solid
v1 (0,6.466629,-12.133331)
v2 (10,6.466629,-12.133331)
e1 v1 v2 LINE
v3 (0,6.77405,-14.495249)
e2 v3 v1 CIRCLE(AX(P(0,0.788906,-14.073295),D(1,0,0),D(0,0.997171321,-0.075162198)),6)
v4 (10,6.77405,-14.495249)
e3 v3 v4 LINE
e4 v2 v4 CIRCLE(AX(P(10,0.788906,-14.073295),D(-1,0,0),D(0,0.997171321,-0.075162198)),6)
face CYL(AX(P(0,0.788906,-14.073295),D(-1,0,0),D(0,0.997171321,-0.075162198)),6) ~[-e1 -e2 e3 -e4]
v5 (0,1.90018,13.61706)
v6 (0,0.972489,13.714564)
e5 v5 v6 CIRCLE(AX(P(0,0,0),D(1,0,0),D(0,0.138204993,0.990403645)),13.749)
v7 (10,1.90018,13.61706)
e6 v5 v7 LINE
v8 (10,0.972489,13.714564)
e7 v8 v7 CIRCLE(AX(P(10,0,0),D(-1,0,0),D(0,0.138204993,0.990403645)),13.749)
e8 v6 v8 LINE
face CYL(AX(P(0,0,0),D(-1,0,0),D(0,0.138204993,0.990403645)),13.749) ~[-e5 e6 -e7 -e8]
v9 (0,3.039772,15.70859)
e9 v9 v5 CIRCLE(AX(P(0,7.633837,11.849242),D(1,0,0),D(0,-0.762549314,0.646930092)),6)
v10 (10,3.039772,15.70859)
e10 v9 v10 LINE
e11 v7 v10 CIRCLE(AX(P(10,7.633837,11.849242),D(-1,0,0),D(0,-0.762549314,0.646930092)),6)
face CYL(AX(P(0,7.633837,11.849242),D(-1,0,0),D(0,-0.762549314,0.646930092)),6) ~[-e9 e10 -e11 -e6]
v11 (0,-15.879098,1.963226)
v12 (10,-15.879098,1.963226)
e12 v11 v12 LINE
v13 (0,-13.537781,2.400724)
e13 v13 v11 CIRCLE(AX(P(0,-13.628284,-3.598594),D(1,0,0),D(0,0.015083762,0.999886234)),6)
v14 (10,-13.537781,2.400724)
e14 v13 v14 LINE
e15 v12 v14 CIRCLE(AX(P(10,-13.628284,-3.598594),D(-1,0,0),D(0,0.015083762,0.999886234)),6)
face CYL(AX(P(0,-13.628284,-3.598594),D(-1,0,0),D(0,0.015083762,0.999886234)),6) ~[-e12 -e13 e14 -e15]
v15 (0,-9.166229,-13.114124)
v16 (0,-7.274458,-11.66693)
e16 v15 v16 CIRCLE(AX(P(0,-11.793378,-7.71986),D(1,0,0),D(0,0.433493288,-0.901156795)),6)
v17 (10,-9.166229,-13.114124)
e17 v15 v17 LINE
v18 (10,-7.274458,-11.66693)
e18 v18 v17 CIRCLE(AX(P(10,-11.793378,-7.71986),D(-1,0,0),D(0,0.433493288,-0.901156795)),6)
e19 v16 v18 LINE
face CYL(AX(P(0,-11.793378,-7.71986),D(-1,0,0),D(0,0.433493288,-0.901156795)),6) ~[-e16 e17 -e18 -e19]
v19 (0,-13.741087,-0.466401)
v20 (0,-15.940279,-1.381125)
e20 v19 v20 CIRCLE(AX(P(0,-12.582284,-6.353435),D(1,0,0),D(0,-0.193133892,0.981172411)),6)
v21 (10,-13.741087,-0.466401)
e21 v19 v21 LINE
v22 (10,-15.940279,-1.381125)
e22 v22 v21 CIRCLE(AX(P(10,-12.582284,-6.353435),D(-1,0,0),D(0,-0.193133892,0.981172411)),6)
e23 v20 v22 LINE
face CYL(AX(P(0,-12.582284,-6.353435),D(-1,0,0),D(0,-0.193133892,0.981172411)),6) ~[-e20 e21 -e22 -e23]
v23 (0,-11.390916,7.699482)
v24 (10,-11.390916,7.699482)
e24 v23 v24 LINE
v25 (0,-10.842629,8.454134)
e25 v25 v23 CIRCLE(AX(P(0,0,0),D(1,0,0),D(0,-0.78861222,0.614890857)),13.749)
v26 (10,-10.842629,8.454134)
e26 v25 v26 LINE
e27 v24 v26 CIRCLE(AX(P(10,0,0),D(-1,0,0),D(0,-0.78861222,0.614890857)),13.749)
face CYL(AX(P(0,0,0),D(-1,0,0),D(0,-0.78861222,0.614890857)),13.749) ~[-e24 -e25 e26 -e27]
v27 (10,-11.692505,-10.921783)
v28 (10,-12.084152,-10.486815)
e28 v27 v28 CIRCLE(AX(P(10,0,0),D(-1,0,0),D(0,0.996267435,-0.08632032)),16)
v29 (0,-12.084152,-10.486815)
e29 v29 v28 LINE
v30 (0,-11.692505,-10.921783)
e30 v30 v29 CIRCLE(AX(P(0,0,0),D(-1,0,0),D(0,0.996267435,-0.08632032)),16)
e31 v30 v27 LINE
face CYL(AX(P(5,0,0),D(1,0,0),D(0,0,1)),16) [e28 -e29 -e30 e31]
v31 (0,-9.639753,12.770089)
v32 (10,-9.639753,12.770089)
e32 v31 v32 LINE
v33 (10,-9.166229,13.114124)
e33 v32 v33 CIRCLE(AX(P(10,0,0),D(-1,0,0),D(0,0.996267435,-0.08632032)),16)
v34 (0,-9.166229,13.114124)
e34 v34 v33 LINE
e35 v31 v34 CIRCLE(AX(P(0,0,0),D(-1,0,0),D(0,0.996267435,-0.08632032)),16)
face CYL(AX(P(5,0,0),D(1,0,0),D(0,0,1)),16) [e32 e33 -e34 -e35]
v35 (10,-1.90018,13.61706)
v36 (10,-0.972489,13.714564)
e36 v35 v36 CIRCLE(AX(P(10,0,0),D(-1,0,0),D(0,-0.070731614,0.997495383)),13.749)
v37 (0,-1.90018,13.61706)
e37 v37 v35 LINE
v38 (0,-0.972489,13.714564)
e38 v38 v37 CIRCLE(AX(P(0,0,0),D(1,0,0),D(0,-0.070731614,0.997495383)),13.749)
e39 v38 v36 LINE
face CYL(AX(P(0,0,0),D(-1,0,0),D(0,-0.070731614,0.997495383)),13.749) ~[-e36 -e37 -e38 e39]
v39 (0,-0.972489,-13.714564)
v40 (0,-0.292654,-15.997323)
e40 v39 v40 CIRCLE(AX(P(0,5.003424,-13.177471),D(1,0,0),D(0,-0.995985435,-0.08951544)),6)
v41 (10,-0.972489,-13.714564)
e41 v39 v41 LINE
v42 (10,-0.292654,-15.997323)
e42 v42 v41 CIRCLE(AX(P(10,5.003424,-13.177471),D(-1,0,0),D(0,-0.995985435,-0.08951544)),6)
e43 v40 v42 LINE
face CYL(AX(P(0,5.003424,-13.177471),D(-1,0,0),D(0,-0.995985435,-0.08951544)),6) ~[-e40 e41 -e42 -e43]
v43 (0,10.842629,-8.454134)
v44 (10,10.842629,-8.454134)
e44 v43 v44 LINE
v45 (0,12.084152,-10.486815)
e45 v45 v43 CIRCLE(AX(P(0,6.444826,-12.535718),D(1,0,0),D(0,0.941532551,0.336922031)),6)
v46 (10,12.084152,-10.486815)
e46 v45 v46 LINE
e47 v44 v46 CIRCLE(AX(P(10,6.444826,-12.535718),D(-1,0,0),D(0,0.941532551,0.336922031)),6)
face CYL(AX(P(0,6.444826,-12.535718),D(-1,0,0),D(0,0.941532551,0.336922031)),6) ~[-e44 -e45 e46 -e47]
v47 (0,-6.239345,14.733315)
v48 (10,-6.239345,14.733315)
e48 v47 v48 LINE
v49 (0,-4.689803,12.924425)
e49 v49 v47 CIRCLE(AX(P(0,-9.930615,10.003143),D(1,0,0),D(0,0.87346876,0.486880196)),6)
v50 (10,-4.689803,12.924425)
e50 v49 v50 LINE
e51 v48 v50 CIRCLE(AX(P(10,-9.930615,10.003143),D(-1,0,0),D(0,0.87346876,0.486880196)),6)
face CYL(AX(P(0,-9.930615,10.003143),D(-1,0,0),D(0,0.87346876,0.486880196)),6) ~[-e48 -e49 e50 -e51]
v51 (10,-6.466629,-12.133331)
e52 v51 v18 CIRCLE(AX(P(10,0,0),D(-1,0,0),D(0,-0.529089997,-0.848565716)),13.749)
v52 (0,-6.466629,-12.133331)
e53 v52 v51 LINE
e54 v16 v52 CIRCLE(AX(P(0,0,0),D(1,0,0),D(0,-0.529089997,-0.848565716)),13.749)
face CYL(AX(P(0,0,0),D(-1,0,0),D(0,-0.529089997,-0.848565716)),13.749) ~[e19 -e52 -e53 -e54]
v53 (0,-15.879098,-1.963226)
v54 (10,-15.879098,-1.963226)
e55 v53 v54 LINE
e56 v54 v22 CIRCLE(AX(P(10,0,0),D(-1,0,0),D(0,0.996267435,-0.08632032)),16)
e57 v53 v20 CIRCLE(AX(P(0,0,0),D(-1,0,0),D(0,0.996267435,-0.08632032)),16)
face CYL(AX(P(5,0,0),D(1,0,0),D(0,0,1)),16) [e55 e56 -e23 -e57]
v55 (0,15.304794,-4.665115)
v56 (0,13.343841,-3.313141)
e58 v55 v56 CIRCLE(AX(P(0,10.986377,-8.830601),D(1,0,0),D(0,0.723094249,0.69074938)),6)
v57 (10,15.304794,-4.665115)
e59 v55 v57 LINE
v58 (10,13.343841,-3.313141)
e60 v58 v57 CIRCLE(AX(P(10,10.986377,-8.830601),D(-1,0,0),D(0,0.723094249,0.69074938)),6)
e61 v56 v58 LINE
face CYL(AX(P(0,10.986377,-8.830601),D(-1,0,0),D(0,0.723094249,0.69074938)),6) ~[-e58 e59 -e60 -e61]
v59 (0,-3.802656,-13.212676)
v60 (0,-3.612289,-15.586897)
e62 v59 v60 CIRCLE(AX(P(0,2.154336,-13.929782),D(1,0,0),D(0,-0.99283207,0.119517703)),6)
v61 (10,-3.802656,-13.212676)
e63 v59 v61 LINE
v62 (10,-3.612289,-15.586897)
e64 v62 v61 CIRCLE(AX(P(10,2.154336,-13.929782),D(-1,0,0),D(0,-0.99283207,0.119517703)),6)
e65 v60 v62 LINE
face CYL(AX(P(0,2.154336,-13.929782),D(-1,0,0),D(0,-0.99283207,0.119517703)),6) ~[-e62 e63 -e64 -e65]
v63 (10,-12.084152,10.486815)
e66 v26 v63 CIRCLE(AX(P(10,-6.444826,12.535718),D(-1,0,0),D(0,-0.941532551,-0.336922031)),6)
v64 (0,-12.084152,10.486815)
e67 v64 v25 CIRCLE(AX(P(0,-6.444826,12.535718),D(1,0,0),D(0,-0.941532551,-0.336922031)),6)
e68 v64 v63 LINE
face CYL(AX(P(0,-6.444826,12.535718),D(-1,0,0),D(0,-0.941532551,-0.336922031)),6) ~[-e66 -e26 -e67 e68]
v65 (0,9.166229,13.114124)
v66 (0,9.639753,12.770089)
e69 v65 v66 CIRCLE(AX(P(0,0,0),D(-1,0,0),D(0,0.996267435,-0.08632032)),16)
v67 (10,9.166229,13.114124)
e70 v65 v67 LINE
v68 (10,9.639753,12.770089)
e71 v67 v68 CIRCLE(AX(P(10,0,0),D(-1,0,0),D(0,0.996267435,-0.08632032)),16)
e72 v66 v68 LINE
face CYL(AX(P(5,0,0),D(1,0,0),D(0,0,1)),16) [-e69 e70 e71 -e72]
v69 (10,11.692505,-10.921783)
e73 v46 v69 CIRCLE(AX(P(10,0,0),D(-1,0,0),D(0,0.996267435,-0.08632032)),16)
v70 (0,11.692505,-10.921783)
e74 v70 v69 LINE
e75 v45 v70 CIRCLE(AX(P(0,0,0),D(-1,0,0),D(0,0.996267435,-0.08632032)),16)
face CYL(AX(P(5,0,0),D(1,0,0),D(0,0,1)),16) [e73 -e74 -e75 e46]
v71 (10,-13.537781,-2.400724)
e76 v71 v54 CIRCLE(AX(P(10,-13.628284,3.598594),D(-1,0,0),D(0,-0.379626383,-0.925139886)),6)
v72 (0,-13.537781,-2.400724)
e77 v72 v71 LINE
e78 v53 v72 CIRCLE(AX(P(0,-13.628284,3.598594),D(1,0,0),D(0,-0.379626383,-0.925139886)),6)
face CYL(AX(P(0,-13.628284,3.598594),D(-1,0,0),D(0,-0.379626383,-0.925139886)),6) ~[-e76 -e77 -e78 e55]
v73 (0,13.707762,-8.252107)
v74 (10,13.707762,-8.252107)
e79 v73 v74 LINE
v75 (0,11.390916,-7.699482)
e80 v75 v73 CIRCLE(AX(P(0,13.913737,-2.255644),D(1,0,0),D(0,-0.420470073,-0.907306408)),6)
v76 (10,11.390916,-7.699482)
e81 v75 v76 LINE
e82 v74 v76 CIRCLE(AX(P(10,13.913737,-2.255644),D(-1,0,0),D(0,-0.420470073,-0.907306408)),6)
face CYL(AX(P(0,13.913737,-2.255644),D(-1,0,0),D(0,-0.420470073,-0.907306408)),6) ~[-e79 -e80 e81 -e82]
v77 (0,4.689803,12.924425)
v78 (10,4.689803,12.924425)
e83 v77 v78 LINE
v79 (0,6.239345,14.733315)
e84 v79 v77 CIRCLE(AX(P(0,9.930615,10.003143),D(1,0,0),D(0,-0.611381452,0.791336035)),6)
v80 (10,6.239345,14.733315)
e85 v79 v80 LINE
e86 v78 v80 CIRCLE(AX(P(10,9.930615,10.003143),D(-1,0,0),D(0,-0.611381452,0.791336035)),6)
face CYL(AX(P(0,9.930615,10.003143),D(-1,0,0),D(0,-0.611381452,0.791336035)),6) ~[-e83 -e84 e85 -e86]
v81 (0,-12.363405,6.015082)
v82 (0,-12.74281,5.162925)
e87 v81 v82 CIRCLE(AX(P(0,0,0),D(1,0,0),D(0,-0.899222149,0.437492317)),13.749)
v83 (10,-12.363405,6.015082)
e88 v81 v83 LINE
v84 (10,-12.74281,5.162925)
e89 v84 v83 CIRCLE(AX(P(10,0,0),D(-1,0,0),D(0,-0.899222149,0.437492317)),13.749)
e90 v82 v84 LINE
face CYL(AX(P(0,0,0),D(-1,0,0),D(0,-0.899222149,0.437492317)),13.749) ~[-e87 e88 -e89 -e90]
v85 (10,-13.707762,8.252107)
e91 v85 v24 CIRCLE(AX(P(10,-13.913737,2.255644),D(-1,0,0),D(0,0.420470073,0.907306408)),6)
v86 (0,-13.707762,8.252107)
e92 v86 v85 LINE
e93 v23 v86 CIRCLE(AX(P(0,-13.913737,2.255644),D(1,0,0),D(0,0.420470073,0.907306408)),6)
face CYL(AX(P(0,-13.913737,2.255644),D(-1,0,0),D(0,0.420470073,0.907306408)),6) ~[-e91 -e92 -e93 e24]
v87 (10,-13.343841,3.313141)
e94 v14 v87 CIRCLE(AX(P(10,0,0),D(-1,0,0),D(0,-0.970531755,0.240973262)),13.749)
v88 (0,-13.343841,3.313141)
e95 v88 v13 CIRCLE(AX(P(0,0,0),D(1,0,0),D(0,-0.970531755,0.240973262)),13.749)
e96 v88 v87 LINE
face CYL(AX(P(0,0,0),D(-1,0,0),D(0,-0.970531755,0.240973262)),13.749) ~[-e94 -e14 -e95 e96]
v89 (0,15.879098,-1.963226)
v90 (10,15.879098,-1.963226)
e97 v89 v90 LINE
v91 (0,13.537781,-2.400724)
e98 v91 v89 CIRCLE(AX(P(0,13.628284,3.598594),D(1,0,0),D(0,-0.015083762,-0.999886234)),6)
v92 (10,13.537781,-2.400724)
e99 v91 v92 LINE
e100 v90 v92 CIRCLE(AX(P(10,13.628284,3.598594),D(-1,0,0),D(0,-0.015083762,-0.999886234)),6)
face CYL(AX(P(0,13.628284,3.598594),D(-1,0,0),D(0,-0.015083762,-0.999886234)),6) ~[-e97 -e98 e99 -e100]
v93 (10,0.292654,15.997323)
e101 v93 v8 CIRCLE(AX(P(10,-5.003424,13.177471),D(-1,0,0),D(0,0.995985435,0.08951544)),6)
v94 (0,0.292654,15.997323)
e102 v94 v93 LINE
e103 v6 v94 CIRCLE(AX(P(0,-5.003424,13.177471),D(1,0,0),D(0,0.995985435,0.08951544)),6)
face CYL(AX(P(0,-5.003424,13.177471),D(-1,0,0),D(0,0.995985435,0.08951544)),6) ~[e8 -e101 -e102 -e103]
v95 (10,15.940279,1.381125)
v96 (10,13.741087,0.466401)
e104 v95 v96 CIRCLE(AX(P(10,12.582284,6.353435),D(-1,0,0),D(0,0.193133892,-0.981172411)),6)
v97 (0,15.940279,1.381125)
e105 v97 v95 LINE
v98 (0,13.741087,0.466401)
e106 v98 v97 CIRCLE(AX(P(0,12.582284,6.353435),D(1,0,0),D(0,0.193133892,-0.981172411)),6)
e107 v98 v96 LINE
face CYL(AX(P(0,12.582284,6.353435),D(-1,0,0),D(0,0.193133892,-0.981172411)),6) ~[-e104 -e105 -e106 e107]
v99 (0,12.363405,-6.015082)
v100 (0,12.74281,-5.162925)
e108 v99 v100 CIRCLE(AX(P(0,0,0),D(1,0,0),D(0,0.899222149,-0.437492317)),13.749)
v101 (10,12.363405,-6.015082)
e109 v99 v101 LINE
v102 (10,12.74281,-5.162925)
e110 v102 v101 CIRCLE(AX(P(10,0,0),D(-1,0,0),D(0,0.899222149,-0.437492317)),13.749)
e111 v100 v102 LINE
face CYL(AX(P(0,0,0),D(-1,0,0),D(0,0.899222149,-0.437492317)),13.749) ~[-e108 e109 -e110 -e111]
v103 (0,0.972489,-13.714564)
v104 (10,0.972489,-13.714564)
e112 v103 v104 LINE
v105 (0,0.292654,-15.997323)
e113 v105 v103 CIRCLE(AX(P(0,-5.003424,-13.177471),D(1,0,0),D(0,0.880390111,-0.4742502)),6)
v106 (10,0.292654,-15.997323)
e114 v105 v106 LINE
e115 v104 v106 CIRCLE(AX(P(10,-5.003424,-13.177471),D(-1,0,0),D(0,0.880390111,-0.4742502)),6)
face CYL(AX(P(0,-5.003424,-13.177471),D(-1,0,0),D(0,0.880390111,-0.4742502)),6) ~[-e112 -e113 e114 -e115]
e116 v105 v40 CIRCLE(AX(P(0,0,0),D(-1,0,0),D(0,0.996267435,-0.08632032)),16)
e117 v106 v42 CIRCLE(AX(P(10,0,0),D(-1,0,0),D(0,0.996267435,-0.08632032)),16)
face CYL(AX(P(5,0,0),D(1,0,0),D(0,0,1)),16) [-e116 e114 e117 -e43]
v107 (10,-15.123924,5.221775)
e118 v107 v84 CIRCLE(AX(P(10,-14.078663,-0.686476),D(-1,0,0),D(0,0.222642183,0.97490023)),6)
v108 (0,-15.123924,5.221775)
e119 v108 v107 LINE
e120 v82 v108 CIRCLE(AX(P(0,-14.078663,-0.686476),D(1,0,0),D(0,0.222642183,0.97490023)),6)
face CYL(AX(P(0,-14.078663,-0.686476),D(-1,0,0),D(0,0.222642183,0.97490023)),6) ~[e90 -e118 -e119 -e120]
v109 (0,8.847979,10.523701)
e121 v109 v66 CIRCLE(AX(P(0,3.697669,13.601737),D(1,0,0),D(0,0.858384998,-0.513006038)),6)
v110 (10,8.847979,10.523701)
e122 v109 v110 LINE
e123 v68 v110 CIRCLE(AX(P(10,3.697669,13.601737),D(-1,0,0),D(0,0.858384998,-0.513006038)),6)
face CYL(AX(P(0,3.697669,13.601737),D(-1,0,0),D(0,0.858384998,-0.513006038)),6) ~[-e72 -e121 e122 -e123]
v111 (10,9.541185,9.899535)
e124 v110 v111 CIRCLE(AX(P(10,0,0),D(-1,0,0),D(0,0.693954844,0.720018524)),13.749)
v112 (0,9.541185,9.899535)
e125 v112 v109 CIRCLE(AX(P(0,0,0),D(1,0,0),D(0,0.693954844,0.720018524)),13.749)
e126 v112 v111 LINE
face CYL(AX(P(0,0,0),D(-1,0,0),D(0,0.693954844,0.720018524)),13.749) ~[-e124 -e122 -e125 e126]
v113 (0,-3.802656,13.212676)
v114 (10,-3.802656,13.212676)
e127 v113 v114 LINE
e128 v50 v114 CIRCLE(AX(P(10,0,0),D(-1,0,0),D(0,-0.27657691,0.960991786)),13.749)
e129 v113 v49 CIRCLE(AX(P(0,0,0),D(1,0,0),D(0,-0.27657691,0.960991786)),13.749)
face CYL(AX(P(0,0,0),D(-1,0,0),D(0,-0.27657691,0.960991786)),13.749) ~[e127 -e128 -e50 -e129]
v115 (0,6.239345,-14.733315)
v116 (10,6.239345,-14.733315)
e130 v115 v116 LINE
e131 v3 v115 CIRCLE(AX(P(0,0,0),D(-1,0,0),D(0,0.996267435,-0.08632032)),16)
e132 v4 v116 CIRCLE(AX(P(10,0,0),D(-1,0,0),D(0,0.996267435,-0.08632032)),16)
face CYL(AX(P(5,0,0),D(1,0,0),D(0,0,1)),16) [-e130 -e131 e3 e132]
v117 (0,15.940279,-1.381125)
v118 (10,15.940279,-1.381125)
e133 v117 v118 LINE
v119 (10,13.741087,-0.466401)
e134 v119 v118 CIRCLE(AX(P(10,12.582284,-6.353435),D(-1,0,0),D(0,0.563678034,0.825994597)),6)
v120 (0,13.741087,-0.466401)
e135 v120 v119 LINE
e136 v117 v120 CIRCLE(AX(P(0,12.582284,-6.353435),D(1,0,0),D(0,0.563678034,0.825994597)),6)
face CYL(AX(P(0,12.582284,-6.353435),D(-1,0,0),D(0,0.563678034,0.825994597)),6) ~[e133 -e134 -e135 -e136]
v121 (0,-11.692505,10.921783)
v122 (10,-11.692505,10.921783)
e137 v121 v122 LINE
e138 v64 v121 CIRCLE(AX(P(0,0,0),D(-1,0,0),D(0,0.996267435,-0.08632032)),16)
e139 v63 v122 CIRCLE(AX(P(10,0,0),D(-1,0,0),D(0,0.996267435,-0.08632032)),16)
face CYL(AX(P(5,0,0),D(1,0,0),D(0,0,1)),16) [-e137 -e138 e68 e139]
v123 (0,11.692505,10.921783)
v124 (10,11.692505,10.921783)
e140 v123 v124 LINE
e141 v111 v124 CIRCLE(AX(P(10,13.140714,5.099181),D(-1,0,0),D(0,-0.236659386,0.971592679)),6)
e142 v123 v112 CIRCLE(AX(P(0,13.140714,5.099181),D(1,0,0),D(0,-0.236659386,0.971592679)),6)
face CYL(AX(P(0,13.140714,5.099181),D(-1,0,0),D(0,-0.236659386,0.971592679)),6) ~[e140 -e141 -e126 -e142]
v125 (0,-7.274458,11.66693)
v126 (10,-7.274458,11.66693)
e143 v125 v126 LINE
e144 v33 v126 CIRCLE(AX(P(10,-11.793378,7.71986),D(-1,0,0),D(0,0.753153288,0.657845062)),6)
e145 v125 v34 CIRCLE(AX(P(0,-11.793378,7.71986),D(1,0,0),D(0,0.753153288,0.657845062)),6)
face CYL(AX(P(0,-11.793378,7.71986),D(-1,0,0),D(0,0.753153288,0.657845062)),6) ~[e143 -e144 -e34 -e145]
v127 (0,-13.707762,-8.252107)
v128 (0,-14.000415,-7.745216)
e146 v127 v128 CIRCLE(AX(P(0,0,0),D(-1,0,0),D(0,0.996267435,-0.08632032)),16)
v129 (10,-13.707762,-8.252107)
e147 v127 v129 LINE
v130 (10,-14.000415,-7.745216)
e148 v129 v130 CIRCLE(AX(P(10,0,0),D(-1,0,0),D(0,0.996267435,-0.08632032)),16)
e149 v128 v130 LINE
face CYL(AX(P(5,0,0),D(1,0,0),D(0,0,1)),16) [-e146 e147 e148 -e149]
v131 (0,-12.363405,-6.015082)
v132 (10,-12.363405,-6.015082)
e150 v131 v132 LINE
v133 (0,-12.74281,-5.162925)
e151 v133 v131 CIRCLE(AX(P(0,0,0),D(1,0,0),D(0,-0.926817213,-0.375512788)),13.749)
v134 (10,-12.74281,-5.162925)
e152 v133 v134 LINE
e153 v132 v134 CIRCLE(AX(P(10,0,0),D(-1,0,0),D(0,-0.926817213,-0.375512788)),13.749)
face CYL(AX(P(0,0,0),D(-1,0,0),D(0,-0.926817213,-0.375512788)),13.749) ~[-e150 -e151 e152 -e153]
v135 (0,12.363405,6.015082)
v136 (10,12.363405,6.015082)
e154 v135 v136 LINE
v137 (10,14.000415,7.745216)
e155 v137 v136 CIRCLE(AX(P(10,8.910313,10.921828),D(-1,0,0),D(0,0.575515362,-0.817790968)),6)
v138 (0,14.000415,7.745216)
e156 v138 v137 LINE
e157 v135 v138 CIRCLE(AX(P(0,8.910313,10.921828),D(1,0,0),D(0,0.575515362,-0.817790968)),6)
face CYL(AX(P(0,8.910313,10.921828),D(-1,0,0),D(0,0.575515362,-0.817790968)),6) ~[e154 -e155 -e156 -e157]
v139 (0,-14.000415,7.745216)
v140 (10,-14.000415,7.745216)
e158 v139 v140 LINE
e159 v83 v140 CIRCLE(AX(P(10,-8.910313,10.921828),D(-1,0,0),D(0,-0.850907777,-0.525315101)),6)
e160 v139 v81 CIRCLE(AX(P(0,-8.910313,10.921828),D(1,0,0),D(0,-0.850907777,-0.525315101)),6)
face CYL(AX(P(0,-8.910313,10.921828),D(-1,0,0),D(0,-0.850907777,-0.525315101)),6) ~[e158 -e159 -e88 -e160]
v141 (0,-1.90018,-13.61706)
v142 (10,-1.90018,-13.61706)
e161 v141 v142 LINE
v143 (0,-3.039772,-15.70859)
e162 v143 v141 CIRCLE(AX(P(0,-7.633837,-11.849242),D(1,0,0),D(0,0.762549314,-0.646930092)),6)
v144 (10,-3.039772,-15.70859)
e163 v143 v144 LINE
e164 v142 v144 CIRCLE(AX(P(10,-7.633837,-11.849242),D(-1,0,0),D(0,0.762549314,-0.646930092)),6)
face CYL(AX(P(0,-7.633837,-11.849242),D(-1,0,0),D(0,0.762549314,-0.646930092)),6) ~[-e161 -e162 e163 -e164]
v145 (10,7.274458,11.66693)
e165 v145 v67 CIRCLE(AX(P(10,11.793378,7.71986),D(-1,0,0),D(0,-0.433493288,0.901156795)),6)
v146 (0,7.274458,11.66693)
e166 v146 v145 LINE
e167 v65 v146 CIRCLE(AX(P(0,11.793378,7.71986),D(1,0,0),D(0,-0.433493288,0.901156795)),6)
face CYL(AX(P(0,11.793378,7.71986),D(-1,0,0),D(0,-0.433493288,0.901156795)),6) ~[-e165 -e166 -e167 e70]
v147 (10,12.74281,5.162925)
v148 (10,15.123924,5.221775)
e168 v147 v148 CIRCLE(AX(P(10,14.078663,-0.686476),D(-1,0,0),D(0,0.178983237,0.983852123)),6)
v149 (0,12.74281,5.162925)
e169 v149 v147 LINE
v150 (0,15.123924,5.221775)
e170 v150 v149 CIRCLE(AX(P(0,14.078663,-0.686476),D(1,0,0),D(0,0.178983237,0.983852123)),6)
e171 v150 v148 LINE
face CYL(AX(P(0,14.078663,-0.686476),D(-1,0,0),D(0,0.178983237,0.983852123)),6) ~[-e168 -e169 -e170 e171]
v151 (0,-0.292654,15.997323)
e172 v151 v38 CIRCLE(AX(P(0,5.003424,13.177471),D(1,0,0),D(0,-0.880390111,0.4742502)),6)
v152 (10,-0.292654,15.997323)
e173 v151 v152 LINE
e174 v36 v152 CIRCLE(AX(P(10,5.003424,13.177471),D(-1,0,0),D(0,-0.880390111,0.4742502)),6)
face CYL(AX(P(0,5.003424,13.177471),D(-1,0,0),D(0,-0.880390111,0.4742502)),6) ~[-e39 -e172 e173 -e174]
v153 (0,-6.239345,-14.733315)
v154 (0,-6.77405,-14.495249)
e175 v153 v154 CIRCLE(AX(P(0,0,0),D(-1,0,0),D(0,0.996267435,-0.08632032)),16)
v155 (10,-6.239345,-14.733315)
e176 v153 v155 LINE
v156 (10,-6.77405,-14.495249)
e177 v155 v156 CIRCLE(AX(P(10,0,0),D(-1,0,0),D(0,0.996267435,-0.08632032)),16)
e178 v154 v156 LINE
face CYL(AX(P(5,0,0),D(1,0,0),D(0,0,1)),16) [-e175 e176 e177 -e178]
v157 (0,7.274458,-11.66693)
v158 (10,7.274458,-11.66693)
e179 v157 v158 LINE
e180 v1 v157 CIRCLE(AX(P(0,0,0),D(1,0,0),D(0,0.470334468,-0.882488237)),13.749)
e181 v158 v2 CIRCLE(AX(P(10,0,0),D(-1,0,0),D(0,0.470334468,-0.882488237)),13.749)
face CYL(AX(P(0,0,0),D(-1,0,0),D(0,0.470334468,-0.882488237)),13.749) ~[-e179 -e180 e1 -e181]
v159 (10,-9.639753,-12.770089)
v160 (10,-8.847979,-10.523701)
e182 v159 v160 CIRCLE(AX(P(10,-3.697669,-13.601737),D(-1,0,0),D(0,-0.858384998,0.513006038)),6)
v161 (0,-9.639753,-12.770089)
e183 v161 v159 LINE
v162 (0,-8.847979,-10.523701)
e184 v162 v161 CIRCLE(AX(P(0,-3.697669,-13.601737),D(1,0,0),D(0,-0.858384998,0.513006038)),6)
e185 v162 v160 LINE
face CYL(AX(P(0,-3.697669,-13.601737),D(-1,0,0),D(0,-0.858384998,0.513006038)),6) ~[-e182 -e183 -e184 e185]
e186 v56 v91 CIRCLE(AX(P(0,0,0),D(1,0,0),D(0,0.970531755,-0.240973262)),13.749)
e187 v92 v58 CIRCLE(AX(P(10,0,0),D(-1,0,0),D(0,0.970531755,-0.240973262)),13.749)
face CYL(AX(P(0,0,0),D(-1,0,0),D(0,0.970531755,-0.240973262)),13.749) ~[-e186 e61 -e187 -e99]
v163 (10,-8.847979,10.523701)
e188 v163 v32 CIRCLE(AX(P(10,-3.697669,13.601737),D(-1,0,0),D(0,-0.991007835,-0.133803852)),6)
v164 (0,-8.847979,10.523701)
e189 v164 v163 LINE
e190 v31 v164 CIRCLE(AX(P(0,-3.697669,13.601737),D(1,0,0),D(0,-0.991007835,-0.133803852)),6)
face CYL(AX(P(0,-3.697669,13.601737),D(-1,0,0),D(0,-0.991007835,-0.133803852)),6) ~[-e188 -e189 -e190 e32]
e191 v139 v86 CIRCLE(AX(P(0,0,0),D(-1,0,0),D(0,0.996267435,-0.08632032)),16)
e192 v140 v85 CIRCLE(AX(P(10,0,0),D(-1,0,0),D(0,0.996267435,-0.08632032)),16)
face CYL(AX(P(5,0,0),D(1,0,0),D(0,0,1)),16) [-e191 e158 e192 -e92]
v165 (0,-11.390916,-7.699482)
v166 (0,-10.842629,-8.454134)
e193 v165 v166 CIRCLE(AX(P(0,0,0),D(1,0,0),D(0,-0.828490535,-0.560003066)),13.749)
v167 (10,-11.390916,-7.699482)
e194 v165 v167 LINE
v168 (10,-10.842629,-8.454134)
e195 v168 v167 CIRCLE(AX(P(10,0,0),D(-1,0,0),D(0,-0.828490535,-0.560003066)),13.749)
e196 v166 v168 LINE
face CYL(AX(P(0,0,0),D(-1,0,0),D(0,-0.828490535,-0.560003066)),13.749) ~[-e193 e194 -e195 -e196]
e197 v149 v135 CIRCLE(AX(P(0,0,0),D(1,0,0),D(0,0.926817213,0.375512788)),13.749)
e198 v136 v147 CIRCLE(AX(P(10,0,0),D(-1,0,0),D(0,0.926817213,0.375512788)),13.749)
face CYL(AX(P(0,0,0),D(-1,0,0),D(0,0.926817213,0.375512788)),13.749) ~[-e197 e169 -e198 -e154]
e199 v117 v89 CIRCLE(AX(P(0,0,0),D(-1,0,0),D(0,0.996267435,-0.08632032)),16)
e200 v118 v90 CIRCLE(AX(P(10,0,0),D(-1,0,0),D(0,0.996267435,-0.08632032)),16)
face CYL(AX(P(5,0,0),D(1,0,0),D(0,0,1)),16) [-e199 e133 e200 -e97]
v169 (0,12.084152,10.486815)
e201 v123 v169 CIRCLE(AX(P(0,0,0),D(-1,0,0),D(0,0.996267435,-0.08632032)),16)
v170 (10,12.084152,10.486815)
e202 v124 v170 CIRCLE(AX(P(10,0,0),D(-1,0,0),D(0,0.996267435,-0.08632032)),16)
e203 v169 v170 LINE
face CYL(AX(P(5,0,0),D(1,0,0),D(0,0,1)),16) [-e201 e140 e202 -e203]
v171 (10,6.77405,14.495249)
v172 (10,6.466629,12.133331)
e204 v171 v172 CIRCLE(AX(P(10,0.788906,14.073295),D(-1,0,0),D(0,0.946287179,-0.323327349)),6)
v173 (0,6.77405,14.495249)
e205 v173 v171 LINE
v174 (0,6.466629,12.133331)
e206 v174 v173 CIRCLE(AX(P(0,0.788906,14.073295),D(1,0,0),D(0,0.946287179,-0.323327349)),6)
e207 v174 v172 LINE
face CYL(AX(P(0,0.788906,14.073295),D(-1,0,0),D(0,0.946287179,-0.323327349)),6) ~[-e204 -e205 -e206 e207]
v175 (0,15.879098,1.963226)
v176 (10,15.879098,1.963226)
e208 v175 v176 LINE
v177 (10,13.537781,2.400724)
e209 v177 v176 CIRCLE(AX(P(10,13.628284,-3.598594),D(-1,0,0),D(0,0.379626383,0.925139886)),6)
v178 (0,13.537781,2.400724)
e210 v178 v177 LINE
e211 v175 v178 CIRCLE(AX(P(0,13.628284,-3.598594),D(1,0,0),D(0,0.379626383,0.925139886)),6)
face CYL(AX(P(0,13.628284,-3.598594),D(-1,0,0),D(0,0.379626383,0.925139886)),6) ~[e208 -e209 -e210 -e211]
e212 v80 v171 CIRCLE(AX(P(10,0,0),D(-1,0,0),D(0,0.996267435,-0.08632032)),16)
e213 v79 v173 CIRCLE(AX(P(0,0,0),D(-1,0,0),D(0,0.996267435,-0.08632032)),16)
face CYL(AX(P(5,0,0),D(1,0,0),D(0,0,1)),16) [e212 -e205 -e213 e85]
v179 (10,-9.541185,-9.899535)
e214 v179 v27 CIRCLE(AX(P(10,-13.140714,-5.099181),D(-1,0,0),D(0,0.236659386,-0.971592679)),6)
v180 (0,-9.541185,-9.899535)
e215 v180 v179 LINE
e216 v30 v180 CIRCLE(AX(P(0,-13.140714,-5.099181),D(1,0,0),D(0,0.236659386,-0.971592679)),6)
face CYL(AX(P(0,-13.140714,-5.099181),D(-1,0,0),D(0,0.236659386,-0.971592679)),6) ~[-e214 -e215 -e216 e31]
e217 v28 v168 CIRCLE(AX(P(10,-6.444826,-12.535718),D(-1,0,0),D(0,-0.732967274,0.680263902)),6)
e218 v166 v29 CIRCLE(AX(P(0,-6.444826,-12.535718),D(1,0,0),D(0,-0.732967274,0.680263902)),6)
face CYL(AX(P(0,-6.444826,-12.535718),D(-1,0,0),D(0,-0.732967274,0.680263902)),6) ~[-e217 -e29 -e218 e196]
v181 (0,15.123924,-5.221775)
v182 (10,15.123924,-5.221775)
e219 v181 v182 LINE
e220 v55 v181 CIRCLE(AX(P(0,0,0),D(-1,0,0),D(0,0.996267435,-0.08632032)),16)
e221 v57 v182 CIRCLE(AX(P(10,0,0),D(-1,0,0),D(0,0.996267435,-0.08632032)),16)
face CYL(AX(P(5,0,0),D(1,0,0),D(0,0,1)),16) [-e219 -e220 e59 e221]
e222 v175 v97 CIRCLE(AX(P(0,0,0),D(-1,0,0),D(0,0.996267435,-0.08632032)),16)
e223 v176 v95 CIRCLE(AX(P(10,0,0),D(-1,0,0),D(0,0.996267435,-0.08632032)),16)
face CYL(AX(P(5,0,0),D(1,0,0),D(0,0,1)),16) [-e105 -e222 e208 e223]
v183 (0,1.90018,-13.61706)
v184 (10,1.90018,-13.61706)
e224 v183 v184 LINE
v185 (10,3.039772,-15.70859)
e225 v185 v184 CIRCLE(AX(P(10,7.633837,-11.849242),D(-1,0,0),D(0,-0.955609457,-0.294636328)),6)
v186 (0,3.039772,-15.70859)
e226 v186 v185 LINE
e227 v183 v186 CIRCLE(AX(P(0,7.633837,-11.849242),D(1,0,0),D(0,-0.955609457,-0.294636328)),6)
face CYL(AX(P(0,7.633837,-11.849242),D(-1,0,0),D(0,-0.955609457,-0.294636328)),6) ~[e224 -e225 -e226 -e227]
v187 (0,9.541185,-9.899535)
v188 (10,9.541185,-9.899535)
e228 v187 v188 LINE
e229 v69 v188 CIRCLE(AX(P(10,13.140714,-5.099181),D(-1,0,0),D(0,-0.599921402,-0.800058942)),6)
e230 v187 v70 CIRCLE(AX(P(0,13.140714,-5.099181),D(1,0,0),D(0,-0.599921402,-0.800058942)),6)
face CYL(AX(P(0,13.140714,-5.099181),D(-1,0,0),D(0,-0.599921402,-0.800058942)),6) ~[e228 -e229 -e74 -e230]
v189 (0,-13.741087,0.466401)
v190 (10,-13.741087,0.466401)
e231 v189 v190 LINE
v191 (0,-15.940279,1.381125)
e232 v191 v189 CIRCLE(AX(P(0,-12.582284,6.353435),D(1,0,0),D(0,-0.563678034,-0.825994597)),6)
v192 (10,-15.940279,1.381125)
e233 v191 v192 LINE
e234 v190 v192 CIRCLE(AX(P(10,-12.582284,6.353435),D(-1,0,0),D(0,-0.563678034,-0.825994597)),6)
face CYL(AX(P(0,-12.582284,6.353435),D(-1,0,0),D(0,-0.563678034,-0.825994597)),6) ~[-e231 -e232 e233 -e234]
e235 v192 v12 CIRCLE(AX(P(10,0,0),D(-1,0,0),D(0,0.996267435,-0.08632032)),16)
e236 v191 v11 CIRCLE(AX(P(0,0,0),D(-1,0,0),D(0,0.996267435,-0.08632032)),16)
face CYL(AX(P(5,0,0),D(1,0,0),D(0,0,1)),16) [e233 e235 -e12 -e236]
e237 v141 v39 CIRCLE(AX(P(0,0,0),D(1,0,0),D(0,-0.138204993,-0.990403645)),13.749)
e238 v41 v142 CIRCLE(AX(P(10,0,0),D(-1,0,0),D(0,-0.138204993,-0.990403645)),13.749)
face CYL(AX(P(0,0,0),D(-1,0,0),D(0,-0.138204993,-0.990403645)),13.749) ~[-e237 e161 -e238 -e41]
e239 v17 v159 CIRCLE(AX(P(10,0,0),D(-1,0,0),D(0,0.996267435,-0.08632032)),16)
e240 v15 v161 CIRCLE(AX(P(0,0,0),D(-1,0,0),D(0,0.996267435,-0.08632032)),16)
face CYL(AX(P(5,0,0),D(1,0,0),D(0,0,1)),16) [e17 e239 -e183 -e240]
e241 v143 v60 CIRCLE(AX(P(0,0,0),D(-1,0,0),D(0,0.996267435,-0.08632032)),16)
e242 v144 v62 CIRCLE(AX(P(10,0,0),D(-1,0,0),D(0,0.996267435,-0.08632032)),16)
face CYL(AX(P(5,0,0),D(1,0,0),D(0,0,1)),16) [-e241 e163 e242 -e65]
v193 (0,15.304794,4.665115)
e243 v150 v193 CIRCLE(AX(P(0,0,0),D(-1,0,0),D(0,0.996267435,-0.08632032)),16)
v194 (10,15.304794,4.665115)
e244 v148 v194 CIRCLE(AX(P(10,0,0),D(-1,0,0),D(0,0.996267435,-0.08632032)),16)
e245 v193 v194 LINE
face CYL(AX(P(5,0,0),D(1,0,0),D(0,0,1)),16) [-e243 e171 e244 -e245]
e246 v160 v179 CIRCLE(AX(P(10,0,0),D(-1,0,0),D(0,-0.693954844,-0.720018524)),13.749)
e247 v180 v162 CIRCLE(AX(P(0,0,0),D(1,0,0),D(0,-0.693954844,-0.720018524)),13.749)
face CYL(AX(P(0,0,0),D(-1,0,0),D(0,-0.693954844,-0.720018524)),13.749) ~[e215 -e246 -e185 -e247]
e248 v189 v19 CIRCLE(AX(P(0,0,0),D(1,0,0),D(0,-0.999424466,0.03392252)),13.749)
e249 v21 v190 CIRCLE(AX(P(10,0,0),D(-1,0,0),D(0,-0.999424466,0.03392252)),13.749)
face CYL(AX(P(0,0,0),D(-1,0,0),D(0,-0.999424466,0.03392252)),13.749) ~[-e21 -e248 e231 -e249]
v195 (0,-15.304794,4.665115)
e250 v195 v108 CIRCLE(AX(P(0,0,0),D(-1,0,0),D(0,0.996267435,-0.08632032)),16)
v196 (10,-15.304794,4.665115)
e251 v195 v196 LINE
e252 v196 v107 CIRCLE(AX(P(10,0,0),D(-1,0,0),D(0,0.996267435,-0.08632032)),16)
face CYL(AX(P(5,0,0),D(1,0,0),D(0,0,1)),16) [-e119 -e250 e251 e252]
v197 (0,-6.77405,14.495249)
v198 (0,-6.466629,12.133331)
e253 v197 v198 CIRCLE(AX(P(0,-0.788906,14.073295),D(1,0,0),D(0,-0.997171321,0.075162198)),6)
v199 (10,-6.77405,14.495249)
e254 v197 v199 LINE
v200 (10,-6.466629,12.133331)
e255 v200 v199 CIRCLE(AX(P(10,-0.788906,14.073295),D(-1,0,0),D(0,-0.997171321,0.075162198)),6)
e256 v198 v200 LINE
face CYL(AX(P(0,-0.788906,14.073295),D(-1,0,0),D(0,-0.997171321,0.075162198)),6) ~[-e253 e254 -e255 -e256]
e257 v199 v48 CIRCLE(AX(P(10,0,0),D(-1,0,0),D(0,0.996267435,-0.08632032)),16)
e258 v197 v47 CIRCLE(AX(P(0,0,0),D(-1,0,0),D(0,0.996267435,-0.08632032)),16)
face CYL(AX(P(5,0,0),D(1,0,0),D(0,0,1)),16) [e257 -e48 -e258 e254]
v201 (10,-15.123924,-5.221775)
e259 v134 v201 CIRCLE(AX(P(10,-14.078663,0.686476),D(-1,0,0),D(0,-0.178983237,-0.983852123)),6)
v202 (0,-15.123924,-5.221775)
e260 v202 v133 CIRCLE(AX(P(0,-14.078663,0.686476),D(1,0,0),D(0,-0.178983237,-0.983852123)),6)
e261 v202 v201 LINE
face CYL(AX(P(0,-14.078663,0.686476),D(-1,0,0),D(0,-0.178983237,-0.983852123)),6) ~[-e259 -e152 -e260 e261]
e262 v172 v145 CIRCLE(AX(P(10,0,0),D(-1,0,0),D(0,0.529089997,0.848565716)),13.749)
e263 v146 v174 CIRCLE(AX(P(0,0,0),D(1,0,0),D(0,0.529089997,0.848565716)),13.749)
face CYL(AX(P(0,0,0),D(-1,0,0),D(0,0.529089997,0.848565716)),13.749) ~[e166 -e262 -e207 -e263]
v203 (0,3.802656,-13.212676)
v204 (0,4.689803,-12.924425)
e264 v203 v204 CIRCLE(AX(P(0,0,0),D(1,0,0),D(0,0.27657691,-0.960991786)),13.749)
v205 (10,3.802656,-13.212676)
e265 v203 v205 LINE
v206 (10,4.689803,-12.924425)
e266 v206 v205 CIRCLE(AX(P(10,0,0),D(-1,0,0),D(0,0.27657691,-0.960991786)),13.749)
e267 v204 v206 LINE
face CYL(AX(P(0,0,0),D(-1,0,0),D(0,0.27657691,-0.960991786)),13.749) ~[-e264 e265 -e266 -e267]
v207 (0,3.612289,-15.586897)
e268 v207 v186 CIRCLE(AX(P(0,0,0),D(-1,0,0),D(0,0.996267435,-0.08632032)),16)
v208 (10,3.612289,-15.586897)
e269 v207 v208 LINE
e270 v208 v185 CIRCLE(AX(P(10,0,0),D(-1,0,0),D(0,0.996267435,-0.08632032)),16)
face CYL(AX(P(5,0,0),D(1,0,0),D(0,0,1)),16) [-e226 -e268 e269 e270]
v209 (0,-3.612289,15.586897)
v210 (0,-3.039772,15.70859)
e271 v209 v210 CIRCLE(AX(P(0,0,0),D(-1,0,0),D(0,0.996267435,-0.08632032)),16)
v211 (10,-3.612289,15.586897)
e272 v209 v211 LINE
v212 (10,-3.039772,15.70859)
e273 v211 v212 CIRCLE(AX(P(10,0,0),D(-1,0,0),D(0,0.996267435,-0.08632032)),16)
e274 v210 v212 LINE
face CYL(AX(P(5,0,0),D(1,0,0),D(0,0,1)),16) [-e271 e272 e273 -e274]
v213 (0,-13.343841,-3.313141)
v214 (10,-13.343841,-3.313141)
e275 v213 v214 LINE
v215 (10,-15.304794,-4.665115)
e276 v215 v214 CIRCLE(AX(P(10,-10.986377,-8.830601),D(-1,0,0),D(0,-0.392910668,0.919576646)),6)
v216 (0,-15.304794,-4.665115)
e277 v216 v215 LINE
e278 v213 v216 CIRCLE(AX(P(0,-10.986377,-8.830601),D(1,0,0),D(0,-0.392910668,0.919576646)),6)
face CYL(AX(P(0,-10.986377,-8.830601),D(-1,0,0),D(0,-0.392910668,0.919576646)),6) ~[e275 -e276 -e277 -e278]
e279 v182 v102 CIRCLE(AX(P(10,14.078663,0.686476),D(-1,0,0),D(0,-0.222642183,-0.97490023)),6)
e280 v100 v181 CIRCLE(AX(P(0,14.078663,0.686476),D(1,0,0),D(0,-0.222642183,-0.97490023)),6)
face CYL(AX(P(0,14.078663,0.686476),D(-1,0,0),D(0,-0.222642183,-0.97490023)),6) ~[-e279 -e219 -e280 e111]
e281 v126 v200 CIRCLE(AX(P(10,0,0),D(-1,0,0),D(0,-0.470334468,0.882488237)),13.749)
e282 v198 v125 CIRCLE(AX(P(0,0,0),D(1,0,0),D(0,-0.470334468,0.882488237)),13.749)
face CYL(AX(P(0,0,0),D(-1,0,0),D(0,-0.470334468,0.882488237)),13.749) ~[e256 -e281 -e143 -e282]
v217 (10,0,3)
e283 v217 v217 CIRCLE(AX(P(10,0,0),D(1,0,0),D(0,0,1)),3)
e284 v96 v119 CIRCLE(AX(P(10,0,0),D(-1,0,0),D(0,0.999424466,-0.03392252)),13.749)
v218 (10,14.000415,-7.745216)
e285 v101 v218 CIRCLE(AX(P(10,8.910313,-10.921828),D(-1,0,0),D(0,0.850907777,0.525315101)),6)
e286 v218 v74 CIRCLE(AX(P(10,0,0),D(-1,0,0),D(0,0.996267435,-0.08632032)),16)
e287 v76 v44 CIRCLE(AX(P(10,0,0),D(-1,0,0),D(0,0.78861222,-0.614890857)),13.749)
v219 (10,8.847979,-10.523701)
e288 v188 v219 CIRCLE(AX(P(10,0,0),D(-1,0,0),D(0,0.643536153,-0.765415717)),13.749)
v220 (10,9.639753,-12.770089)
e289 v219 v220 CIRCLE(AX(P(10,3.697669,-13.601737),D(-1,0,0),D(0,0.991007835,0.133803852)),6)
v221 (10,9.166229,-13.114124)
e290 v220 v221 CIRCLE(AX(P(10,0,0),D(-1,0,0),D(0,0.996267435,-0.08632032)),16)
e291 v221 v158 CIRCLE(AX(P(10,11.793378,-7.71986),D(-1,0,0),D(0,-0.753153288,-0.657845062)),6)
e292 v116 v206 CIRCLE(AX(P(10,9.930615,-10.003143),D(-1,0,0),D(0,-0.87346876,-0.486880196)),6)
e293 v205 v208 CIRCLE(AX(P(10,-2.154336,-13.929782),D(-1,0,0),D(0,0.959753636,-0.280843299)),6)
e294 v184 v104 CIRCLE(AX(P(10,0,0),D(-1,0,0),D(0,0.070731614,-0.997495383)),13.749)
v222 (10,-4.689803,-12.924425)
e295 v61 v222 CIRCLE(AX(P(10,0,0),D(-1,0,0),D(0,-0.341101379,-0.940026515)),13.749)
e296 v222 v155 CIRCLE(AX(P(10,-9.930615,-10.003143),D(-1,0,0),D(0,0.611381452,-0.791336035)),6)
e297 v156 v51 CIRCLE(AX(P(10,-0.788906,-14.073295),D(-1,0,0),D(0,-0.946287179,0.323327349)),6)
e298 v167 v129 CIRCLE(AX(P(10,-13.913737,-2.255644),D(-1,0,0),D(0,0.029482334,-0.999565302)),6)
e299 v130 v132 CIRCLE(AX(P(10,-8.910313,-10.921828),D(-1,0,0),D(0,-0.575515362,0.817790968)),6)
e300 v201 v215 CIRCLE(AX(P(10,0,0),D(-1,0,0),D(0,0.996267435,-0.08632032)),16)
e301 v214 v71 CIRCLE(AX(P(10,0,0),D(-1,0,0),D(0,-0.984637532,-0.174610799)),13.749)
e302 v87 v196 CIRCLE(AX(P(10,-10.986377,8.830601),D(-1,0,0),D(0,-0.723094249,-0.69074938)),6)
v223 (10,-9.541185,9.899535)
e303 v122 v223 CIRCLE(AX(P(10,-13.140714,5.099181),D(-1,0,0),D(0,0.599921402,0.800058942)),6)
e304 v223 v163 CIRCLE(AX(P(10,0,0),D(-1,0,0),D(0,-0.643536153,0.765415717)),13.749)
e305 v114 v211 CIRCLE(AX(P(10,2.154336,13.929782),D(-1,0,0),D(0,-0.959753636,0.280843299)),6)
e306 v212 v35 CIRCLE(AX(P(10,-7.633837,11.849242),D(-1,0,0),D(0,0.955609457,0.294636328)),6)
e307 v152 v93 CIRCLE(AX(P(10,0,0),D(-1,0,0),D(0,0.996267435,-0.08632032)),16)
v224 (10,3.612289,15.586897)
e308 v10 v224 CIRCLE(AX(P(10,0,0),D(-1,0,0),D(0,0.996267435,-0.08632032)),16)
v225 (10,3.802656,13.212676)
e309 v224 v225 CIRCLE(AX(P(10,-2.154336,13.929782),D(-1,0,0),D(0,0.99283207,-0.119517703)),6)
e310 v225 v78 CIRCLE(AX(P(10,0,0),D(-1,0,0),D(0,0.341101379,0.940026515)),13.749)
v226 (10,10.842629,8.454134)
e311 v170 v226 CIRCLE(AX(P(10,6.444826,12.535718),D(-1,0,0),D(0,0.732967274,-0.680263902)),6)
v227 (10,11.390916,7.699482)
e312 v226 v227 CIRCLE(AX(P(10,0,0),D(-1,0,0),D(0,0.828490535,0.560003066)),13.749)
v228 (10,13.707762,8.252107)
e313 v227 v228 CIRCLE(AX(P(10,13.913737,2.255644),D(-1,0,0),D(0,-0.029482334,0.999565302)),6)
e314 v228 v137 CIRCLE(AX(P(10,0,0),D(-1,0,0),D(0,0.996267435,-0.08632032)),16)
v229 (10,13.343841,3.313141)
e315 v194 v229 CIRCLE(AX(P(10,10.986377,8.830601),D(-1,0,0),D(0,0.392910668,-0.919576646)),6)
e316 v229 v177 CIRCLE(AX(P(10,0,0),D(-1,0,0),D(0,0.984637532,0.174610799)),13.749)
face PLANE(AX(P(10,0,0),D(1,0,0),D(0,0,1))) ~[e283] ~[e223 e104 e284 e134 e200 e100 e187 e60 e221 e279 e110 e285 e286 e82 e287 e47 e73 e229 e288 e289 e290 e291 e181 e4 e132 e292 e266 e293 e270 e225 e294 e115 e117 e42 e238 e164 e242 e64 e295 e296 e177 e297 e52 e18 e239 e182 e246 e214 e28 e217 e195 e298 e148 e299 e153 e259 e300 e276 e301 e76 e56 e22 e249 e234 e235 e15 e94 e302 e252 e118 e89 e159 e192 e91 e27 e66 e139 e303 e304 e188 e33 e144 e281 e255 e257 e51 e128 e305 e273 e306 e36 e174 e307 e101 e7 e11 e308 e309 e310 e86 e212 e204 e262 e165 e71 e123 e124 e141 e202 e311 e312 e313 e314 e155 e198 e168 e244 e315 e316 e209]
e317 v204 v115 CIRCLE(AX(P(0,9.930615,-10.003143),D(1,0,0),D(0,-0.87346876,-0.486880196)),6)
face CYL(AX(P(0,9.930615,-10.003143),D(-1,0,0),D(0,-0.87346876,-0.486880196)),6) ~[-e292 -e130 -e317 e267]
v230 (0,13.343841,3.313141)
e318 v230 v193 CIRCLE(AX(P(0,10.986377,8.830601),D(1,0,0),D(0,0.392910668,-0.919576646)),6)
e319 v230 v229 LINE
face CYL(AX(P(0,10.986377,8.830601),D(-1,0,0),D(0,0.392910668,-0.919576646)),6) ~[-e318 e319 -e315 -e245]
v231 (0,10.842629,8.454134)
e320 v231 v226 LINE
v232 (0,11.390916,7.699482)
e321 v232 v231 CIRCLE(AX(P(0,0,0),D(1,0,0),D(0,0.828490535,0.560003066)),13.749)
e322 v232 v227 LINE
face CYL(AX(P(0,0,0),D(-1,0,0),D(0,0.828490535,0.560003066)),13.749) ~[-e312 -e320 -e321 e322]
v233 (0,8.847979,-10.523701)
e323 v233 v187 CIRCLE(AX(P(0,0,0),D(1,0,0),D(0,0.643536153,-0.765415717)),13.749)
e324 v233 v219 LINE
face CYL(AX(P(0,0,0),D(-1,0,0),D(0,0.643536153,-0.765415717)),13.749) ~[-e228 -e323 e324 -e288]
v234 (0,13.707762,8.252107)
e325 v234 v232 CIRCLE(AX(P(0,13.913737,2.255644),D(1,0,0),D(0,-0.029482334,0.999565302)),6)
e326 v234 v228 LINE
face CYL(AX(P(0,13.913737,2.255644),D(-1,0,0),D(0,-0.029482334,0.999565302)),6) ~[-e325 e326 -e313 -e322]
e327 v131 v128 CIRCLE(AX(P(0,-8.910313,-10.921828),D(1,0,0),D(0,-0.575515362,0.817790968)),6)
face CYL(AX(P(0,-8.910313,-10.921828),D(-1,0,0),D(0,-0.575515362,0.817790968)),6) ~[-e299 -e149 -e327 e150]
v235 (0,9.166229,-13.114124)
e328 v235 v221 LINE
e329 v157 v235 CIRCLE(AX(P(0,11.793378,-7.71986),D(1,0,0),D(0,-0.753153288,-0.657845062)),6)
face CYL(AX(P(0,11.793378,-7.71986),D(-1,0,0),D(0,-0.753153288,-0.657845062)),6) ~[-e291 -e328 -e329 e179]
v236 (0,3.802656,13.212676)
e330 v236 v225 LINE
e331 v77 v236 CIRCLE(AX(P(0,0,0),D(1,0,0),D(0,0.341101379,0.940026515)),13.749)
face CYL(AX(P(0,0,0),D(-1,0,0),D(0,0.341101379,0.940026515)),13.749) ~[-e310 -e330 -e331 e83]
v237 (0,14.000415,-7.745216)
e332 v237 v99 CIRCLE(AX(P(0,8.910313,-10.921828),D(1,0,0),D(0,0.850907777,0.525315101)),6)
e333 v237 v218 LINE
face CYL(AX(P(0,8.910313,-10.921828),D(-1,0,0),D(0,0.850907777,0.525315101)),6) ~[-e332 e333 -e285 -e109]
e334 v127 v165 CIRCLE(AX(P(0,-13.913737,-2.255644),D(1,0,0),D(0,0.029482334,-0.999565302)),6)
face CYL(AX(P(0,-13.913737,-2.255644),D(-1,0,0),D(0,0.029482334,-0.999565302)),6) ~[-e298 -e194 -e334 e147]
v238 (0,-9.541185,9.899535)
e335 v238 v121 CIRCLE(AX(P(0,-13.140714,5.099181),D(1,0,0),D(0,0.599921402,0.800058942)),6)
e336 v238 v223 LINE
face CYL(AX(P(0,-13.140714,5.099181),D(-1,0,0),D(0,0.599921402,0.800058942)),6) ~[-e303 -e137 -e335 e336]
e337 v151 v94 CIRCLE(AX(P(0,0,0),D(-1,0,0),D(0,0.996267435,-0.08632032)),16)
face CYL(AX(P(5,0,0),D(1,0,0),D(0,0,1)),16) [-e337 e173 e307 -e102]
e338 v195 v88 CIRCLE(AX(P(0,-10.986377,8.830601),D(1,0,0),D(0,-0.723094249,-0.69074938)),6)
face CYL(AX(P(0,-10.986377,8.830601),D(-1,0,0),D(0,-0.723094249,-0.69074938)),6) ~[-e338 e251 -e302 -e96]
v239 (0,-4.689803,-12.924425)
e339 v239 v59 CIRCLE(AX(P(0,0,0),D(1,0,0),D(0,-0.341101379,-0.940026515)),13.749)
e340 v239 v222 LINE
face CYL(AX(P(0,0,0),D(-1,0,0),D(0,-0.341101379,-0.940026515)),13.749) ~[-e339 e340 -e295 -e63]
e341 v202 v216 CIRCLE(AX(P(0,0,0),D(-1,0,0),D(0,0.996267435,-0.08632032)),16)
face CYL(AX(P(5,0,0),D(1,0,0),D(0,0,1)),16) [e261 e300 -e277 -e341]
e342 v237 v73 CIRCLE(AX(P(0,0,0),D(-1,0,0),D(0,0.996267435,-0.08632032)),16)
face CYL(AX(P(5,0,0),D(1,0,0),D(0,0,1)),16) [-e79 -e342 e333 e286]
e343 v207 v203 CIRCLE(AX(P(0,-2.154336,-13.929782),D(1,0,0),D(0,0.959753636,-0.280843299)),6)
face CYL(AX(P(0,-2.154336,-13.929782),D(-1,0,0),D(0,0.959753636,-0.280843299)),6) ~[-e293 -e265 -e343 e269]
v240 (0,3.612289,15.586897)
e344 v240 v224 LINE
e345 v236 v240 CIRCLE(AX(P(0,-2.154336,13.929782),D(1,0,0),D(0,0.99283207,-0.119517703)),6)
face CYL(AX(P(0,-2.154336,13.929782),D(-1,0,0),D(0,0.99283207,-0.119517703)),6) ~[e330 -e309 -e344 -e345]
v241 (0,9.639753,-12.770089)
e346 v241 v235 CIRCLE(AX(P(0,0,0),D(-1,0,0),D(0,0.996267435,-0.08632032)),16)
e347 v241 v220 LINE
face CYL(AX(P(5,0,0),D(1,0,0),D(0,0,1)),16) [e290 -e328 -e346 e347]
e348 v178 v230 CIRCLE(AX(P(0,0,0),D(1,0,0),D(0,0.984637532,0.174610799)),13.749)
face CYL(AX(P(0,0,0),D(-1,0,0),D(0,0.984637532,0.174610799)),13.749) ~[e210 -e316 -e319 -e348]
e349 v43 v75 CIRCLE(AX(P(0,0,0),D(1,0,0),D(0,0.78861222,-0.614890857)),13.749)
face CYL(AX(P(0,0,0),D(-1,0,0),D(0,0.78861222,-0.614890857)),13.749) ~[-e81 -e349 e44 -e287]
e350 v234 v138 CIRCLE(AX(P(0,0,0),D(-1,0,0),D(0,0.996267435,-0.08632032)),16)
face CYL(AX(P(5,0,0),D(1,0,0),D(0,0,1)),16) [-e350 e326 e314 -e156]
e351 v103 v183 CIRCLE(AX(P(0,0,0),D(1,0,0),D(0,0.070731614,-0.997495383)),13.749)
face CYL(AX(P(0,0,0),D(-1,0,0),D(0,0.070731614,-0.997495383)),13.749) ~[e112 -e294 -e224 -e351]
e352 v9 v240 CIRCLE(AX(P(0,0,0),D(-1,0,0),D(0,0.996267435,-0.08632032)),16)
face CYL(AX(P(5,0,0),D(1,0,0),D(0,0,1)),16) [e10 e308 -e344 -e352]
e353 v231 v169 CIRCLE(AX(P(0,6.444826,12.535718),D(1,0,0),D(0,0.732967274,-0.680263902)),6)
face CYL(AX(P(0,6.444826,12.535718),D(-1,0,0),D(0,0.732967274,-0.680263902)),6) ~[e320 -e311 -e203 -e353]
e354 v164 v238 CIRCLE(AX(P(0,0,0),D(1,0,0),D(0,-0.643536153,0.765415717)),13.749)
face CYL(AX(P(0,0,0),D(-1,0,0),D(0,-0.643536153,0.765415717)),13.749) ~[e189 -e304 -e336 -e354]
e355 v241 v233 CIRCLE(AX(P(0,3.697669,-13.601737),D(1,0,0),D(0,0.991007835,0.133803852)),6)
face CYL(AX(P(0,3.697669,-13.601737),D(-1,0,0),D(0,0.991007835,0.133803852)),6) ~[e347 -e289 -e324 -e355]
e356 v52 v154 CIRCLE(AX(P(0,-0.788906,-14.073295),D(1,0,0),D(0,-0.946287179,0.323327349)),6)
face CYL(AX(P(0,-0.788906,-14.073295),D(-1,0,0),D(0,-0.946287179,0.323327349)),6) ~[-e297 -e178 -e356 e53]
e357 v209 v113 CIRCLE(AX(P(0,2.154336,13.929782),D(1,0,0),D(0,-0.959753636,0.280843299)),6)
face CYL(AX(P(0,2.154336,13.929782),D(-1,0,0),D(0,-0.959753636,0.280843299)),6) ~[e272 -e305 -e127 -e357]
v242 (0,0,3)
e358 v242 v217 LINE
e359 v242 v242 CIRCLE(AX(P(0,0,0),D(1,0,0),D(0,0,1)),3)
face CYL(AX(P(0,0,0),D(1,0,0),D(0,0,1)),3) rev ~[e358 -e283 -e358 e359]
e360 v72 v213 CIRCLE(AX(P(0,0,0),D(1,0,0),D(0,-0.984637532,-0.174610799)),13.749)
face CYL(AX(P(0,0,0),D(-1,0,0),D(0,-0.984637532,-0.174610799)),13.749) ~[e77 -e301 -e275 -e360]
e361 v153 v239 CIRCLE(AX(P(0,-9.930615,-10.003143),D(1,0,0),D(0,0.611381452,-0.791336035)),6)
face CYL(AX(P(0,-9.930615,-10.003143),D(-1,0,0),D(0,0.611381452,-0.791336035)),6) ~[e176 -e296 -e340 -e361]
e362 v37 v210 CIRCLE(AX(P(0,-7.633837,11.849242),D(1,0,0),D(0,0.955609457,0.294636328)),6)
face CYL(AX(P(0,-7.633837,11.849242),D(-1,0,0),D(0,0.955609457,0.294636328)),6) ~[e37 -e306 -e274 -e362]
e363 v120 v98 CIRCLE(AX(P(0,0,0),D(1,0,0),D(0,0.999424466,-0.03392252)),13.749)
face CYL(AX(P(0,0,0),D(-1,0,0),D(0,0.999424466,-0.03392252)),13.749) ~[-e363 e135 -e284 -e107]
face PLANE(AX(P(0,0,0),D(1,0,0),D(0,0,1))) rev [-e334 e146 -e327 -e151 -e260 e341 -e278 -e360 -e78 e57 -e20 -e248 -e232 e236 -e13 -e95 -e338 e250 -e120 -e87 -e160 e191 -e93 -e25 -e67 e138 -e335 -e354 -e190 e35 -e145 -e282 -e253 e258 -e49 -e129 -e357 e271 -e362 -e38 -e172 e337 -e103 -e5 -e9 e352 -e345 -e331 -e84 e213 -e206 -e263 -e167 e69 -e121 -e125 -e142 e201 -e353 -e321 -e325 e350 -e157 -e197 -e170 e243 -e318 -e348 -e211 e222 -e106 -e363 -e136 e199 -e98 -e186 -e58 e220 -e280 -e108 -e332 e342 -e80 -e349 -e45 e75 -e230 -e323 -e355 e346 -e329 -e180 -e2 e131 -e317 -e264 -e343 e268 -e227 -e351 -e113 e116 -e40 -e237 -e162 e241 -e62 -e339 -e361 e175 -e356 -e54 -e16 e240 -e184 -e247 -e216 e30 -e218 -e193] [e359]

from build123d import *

# Parameters (mm, degrees)
BASPROSKE_W     = 10
BASPROSKE_H     = 16
TOOTHCUT_DEPTH  = 25.738633754
TEETHCUTS_COUNT = 30
TEETHCUTS_ANGLE = 348
BORSKE_R        = 3
BORE_DEPTH      = 50.0000508


with BuildPart() as part:
    # BasProSke → Base-Revolve (revolve)
    with BuildSketch(Plane(origin=(0, 0, 0), x_dir=(1, 0, 0), z_dir=(0, 1, 0)), mode=Mode.PRIVATE) as base_revolve_sk:
        with Locations((5, 8)):
            Rectangle(BASPROSKE_W, BASPROSKE_H)
    revolve(base_revolve_sk.sketch.rotate(Axis((-10, 0, 0), (1, 0, 0)), 180), axis=Axis((-10, 0, 0), (1, 0, 0)))

    # TooCutSke → ToothCut (cut, through all)
    with BuildSketch(Plane(origin=(0, 0, 0), x_dir=(0, 0, -1), z_dir=(1, 0, 0))):
        with BuildLine():
            ThreePointArc((0.466400716, 13.741086979), (0, 13.749), (-0.466400716, 13.741086979))
            ThreePointArc((-0.466400716, 13.741086979), (-0.819142092, 14.899954875), (-1.3974676, 15.964351834))
            ThreePointArc((-1.3974676, 15.964351834), (0, 16.0254), (1.3974676, 15.964351834))
            ThreePointArc((1.3974676, 15.964351834), (0.819142092, 14.899954875), (0.466400716, 13.741086979))
        make_face()
    toothcut = extrude(amount=TOOTHCUT_DEPTH, mode=Mode.SUBTRACT)

    # TeethCuts: ToothCut ×30 about axis
    teethcuts_axis = Axis((-10, 0, 0), (1, 0, 0))
    for i in range(1, TEETHCUTS_COUNT):
        add(toothcut.rotate(teethcuts_axis, i * TEETHCUTS_ANGLE / (TEETHCUTS_COUNT - 1)), mode=Mode.SUBTRACT)

    # BorSke → Bore (cut, symmetric)
    with BuildSketch(Plane(origin=(0, 0, 0), x_dir=(0, 0, -1), z_dir=(1, 0, 0))):
        with Locations(Location((0, 0, 0), (0, 0, 180))):
            Circle(BORSKE_R)
    extrude(amount=BORE_DEPTH, both=True, mode=Mode.SUBTRACT)


solid = part.part
